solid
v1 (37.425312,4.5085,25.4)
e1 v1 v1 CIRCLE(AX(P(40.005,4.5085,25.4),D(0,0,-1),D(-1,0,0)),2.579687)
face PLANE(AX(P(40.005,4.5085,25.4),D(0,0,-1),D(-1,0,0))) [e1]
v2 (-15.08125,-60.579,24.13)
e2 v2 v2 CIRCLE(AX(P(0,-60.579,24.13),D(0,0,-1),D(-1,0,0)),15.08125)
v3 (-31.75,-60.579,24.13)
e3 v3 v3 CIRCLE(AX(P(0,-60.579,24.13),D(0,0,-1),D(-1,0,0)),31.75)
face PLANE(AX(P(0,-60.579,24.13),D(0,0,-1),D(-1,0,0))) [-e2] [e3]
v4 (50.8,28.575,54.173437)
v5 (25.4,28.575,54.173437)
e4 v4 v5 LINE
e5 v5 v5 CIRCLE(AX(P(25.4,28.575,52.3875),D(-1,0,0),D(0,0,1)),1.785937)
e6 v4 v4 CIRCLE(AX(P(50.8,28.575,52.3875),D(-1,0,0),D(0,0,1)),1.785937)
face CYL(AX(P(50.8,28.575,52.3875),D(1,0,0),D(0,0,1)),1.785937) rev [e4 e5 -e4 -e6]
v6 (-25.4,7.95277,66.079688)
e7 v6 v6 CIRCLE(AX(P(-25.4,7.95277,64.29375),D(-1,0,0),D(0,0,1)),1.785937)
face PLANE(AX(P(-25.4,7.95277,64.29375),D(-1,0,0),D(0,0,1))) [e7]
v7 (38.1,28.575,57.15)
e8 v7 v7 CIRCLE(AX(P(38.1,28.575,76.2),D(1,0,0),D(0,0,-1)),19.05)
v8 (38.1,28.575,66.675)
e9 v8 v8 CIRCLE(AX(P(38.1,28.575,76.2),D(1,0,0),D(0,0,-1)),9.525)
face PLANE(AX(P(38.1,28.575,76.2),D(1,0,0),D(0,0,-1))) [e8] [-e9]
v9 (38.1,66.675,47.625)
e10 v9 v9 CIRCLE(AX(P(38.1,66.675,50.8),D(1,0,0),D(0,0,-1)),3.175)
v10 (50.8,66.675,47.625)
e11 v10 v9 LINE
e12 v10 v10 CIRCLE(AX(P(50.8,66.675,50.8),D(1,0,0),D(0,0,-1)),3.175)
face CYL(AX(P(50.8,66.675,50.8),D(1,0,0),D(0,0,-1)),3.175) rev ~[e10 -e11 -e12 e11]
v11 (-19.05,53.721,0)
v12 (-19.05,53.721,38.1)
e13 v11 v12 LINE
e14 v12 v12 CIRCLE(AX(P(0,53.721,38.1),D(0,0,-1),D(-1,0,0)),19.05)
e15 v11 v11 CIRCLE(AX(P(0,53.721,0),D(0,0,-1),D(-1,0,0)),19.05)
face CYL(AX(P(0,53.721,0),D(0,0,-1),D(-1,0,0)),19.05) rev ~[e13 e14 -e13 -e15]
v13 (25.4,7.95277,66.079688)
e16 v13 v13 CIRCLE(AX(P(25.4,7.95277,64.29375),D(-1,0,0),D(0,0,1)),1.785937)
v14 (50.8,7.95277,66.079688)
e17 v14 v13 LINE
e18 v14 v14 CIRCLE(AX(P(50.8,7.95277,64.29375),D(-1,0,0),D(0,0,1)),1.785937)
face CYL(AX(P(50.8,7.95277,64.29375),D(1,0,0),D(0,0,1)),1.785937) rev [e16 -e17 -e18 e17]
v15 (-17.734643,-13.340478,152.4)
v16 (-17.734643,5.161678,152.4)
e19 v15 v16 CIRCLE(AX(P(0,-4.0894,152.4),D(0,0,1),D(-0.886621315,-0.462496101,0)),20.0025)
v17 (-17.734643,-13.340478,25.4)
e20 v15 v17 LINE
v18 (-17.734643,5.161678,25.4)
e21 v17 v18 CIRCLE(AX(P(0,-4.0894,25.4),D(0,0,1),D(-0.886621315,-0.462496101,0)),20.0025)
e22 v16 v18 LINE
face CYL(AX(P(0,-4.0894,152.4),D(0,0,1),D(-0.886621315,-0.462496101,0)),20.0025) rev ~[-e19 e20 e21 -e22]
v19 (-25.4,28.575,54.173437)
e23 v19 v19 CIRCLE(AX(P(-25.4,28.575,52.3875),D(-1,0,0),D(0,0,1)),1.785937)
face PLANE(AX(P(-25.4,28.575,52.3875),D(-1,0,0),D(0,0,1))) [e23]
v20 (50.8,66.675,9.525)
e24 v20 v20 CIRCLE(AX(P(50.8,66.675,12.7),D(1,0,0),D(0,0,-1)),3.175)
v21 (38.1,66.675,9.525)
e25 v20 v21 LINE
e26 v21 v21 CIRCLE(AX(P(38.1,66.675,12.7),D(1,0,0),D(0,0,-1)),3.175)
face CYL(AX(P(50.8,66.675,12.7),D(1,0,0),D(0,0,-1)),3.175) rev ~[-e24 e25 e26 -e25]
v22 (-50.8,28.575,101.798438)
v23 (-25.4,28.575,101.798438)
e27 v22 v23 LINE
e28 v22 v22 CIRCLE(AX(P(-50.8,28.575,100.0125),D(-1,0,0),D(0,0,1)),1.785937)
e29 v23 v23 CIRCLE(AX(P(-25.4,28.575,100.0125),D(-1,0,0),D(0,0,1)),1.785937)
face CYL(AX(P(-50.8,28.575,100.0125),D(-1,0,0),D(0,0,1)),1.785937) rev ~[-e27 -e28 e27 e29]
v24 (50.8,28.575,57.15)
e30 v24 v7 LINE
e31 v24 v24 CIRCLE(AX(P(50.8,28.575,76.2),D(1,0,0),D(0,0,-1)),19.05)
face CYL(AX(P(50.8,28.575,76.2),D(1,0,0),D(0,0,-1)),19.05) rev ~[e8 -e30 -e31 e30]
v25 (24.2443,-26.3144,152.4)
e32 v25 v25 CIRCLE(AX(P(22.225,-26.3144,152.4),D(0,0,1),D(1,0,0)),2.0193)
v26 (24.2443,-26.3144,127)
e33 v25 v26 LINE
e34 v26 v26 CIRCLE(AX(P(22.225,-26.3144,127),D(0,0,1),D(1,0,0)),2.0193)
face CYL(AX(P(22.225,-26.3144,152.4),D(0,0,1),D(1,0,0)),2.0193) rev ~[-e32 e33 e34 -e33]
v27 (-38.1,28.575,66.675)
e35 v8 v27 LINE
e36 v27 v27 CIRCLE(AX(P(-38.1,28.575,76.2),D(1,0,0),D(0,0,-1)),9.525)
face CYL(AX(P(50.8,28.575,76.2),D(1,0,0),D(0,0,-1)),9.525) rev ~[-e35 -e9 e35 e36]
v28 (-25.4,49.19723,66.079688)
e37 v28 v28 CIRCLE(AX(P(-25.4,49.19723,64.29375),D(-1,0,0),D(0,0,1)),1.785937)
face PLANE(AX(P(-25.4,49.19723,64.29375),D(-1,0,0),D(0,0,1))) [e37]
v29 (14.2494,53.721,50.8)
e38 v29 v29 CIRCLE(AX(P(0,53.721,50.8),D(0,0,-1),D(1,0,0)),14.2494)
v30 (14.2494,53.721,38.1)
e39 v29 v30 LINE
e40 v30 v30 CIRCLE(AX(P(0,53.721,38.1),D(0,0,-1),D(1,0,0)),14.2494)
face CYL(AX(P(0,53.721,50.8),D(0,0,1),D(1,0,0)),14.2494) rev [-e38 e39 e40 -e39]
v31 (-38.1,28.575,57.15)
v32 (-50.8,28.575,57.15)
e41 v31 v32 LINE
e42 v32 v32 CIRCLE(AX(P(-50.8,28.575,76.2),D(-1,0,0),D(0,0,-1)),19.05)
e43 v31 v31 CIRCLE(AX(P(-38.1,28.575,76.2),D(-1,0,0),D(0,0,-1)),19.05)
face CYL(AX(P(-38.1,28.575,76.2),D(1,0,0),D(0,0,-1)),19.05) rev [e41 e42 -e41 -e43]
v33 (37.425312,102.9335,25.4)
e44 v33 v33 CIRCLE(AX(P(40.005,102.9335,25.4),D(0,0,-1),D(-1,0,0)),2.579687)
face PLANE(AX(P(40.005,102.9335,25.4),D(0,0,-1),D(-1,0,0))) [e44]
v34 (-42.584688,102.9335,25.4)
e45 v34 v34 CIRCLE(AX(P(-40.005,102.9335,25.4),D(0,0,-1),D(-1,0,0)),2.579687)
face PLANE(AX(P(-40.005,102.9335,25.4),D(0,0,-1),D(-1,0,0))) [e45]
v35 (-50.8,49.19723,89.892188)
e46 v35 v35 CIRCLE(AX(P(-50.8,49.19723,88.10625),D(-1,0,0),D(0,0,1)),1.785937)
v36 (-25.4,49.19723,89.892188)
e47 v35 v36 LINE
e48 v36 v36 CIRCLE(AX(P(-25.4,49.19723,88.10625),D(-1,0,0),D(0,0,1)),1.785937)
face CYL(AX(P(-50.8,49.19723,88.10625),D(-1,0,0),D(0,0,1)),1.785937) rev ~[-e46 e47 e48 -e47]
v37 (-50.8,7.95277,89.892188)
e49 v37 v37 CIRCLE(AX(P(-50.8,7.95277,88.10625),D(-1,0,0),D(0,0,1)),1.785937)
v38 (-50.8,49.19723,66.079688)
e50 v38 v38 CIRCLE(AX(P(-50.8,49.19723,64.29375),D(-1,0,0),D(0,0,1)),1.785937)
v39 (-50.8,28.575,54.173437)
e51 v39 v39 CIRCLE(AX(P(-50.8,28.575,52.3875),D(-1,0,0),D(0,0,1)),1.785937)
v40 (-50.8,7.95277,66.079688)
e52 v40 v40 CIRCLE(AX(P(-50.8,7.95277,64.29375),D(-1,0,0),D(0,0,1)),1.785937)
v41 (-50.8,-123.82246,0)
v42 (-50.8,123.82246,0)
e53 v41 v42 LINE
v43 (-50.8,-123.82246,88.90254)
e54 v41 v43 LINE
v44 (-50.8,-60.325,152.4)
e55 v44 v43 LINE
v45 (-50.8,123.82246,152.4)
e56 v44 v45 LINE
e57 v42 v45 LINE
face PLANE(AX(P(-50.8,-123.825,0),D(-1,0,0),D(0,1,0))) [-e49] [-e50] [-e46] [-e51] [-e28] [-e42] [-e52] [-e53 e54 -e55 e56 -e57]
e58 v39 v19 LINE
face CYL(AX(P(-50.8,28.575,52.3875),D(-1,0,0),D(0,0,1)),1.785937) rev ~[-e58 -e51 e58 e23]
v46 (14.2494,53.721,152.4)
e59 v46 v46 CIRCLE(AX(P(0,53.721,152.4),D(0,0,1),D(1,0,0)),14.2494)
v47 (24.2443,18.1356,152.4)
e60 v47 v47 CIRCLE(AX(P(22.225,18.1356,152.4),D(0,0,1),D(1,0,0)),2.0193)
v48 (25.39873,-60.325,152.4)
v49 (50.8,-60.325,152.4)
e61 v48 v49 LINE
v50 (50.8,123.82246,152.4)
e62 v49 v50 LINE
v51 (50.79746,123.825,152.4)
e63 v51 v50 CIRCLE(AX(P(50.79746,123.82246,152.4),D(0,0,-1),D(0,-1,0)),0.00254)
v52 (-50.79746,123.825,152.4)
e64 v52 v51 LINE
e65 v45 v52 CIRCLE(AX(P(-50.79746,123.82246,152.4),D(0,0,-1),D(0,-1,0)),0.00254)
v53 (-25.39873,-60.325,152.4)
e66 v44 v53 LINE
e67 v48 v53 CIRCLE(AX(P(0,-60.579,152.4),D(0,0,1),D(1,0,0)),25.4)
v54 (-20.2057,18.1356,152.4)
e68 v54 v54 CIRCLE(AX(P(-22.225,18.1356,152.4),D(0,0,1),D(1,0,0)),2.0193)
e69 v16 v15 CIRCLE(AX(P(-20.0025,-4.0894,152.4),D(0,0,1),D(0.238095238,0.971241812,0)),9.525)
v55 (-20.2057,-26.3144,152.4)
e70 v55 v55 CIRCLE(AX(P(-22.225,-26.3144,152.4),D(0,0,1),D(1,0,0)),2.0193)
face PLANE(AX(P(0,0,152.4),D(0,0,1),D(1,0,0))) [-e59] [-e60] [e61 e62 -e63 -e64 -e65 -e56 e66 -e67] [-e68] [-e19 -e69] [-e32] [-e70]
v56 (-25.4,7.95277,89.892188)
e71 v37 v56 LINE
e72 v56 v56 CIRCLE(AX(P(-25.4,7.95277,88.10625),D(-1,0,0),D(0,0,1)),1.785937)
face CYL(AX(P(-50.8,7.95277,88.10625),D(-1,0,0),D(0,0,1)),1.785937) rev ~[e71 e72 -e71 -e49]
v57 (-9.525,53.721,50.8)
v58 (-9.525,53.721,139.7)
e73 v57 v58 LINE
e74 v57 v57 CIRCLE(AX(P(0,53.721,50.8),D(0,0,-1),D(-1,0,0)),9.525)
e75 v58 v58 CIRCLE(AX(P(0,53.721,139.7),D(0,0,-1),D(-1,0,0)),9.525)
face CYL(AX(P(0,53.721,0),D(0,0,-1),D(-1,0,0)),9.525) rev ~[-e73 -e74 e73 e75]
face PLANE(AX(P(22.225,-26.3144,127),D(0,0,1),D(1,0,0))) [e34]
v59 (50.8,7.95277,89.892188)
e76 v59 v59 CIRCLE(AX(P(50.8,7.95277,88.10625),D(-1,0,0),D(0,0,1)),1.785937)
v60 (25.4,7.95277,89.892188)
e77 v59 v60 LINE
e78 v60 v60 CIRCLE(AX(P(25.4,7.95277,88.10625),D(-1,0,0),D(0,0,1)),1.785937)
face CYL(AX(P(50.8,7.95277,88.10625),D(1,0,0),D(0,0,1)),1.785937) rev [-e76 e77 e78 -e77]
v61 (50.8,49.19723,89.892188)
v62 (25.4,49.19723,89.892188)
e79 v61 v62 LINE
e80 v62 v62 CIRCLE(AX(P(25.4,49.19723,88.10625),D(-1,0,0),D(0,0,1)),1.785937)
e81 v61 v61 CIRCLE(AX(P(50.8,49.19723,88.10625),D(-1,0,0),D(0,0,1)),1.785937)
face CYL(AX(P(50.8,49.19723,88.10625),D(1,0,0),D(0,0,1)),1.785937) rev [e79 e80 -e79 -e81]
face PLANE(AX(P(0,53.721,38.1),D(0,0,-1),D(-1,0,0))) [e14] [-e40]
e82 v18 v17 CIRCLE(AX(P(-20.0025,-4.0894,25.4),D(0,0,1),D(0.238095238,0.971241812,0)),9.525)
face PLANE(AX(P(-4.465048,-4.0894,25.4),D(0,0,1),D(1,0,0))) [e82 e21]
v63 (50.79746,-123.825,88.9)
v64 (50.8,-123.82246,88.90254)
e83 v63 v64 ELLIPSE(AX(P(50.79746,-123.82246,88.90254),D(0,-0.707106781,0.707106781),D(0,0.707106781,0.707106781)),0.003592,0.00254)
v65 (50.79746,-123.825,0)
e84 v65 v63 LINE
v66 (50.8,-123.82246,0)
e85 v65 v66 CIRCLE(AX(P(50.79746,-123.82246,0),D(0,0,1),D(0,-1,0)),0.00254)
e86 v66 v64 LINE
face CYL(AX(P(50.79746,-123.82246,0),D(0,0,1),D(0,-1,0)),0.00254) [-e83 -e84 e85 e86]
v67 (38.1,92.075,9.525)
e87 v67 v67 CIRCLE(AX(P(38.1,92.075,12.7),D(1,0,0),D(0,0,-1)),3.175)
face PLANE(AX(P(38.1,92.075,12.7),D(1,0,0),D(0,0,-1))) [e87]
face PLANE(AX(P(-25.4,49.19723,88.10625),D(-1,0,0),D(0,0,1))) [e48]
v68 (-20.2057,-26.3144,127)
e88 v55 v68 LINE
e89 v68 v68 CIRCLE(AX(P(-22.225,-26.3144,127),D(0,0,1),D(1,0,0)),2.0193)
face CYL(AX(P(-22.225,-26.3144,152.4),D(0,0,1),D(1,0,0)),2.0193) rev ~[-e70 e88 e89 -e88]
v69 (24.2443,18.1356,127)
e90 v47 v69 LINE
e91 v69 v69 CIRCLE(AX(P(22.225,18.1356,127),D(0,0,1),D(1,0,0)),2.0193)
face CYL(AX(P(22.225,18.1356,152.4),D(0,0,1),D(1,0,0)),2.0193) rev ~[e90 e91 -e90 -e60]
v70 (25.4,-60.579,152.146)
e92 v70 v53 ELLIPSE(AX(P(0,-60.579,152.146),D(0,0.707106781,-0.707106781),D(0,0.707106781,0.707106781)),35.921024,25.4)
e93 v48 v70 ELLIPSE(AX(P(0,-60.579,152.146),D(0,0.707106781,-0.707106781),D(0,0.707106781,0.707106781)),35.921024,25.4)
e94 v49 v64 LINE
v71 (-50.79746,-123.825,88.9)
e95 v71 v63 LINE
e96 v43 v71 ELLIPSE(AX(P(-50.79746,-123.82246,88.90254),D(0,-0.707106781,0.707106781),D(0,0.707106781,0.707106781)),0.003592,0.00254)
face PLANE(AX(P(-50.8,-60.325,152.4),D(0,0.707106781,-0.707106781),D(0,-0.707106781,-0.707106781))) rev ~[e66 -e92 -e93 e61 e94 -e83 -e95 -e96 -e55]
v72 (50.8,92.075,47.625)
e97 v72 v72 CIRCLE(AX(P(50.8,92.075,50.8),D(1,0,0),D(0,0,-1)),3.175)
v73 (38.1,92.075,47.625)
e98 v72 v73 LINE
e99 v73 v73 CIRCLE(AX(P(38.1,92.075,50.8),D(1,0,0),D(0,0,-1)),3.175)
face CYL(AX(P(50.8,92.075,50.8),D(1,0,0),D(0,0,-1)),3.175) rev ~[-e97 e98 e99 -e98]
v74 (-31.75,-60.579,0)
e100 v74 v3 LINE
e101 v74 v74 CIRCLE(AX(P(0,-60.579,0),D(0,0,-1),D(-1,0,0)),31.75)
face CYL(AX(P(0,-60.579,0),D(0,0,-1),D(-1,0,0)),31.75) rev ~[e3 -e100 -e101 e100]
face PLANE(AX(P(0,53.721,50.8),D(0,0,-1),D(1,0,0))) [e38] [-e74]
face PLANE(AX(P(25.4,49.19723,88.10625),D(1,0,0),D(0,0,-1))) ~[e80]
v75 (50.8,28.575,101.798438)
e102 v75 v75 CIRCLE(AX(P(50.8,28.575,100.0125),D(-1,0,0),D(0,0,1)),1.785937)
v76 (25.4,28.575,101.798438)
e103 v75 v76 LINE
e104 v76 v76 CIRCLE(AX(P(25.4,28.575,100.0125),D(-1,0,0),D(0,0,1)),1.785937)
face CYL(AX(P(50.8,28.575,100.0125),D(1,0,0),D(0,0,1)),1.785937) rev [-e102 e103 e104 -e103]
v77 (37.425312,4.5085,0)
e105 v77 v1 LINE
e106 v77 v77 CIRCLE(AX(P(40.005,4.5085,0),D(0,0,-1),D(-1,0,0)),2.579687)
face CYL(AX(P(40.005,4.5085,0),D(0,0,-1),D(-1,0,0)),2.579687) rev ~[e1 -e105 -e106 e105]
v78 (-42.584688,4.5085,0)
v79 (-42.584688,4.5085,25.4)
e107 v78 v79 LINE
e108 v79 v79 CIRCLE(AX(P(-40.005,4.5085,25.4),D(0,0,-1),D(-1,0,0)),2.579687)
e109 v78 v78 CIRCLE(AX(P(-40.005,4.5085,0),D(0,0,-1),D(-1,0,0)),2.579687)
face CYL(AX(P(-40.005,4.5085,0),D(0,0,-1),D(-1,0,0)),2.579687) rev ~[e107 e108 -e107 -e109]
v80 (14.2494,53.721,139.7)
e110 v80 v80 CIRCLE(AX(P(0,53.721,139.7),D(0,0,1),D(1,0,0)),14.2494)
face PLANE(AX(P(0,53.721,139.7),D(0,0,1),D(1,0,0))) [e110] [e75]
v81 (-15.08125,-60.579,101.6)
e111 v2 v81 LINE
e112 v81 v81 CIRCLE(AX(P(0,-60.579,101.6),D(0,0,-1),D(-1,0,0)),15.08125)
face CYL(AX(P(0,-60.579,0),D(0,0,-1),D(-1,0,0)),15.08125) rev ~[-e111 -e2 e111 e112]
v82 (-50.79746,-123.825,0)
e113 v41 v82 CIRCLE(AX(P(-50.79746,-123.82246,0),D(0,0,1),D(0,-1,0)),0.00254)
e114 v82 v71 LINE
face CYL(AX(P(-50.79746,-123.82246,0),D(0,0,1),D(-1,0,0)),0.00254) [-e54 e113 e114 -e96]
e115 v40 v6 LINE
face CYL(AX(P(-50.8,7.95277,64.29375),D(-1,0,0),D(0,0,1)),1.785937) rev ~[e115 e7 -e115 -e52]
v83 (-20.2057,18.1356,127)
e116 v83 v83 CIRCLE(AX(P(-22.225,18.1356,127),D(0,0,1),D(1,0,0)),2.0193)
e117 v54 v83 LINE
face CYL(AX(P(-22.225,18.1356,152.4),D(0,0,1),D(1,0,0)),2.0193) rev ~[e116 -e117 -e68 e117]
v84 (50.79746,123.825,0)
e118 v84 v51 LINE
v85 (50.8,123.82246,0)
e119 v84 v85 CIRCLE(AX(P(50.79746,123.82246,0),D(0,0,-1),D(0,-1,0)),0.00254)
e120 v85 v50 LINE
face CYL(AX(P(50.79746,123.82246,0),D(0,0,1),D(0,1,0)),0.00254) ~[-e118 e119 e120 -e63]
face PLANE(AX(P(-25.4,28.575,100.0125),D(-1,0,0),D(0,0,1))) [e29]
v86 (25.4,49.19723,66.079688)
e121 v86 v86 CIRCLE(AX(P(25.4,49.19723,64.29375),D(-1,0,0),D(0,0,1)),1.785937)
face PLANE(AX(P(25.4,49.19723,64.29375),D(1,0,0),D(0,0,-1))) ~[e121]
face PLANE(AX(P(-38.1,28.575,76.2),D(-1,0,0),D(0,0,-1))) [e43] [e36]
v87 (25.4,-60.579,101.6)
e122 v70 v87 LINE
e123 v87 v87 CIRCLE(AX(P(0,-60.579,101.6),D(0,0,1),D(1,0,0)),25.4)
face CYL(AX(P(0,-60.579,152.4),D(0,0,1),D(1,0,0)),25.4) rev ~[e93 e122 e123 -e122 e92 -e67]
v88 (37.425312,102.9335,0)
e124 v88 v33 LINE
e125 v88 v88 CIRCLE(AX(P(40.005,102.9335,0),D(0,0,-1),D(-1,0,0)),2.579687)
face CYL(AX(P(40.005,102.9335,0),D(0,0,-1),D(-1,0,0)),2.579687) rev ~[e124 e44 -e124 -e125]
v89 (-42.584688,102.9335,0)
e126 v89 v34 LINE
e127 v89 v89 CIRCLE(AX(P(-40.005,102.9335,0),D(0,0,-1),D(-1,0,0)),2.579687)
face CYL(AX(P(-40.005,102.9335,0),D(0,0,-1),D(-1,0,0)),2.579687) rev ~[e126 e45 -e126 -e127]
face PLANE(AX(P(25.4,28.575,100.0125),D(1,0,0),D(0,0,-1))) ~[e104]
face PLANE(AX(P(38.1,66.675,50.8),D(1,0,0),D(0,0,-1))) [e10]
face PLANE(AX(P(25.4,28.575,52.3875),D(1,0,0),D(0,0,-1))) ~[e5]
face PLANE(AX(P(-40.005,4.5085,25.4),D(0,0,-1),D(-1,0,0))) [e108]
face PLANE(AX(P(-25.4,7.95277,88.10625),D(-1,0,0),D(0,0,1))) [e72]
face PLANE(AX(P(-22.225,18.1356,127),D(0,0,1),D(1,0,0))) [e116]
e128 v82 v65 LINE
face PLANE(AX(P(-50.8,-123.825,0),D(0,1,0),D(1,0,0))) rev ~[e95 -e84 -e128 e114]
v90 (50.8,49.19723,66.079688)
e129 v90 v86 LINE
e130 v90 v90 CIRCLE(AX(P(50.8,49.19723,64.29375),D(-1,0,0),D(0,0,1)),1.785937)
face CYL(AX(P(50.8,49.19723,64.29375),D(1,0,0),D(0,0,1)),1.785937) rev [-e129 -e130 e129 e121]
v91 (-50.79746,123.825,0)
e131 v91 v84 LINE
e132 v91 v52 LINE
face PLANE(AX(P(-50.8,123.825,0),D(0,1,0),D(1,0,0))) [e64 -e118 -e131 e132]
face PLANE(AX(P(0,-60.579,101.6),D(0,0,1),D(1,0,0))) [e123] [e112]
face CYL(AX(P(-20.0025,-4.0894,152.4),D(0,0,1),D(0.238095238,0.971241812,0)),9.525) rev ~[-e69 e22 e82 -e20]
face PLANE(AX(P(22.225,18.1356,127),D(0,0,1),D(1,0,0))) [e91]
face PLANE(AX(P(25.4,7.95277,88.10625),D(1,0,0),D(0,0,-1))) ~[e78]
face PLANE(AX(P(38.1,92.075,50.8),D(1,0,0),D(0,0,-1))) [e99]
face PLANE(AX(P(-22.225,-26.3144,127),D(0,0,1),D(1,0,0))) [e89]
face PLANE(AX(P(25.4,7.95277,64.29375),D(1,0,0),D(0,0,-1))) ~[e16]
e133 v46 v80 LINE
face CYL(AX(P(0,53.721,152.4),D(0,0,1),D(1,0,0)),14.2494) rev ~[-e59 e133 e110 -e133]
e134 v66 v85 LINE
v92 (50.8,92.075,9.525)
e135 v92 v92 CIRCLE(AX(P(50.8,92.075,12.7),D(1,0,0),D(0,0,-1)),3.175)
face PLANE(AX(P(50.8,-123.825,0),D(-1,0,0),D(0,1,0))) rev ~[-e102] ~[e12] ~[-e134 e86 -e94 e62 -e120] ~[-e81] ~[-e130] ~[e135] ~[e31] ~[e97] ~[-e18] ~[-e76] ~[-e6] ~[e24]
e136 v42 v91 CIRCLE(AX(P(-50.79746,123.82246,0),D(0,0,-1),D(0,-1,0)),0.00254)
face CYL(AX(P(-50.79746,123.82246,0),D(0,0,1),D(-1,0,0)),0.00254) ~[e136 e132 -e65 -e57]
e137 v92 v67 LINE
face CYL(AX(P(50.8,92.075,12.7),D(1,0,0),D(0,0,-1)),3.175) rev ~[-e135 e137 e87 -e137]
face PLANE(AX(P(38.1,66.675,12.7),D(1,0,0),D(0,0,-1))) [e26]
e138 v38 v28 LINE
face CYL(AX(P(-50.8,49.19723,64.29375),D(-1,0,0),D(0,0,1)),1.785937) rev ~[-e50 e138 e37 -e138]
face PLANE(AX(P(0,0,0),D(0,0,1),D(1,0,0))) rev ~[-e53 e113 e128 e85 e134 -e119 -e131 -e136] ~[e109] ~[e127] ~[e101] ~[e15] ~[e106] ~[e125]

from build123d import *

# Parameters (mm, degrees)
SKETCH1_W           = 101.6
SKETCH1_H           = 247.65
BOSS_EXTRUDE1_DEPTH = 152.4
SKETCH2_R           = 15.08125
SKETCH2_R_2         = 9.525
CUT_EXTRUDE1_DEPTH  = 203.827588422
CUT_EXTRUDE2_DEPTH  = 222.090367554
SKETCH33_R          = 2.5796875
CUT_EXTRUDE33_DEPTH = 25.4
SKETCH53_R          = 31.75
CUT_EXTRUDE37_DEPTH = 24.13
SKETCH54_R          = 19.05
CUT_EXTRUDE38_DEPTH = 38.1
SKETCH4_R           = 19.05
CUT_EXTRUDE40_DEPTH = 12.7
SKETCH55_R          = 1.7859375
CUT_EXTRUDE41_DEPTH = 25.4
SKETCH56_R          = 14.2494
CUT_EXTRUDE42_DEPTH = 12.7
CUT_EXTRUDE43_START = -12.7
SKETCH57_R          = 14.2494
CUT_EXTRUDE43_DEPTH = 12.7
SKETCH58_R          = 25.4
CUT_EXTRUDE44_DEPTH = 50.8
CUT_EXTRUDE45_DEPTH = 127
FILLET2_R           = 0.00254
CUT_EXTRUDE46_START = -12.7
SKETCH60_R          = 19.05
CUT_EXTRUDE46_DEPTH = 12.7
SKETCH61_R          = 9.525
CUT_EXTRUDE47_DEPTH = 222.090367554
SKETCH62_R          = 2.0193
CUT_EXTRUDE48_DEPTH = 25.4
SKETCH63_R          = 3.175
CUT_EXTRUDE49_DEPTH = 12.7


with BuildPart() as part:
    # Sketch1 → Boss-Extrude1 (new body)
    with BuildSketch(Plane.XY):
        Rectangle(SKETCH1_W, SKETCH1_H)
    extrude(amount=BOSS_EXTRUDE1_DEPTH)

    # Sketch2 → Cut-Extrude1 (cut, through all)
    with BuildSketch(Plane(origin=(0, 0, 0), x_dir=(-1, 0, 0), z_dir=(0, 0, -1))):
        with Locations((0, -60.579)):
            Circle(SKETCH2_R)
        with Locations((0, 53.721)):
            Circle(SKETCH2_R_2)
    extrude(amount=-CUT_EXTRUDE1_DEPTH, mode=Mode.SUBTRACT)

    # Sketch3 → Cut-Extrude2 (cut, through all)
    with BuildSketch(Plane.ZY.offset(50.8)):
        Polygon((152.4, -60.325), (88.9, -123.825), (152.4, -123.825), align=None)
    extrude(amount=-CUT_EXTRUDE2_DEPTH, mode=Mode.SUBTRACT)

    # Sketch33 → Cut-Extrude33 (cut)
    with BuildSketch(Plane(origin=(0, 0, 0), x_dir=(-1, 0, 0), z_dir=(0, 0, -1))):
        with Locations((-40.005, 102.9335)):
            Circle(SKETCH33_R)
        with Locations((40.005, 102.9335)):
            Circle(SKETCH33_R)
        with Locations((40.005, 4.5085)):
            Circle(SKETCH33_R)
        with Locations((-40.005, 4.5085)):
            Circle(SKETCH33_R)
    extrude(amount=-CUT_EXTRUDE33_DEPTH, mode=Mode.SUBTRACT)

    # Sketch53 → Cut-Extrude37 (cut)
    with BuildSketch(Plane(origin=(0, 0, 0), x_dir=(-1, 0, 0), z_dir=(0, 0, -1))):
        with Locations((0, -60.579)):
            Circle(SKETCH53_R)
    extrude(amount=-CUT_EXTRUDE37_DEPTH, mode=Mode.SUBTRACT)

    # Sketch54 → Cut-Extrude38 (cut)
    with BuildSketch(Plane(origin=(0, 0, 0), x_dir=(-1, 0, 0), z_dir=(0, 0, -1))):
        with Locations((0, 53.721)):
            Circle(SKETCH54_R)
    extrude(amount=-CUT_EXTRUDE38_DEPTH, mode=Mode.SUBTRACT)

    # Sketch4 → Cut-Extrude40 (cut)
    with BuildSketch(Plane(origin=(50.8, 0, 0), x_dir=(0, 0, -1), z_dir=(1, 0, 0))):
        with Locations((-76.2, 28.575)):
            Circle(SKETCH4_R)
    extrude(amount=-CUT_EXTRUDE40_DEPTH, mode=Mode.SUBTRACT)

    # Sketch55 → Cut-Extrude41 (cut)
    with BuildSketch(Plane.ZY.offset(50.8)):
        with Locations((52.3875, 28.575)):
            Circle(SKETCH55_R)
        with Locations((64.29375, 49.197229928)):
            Circle(SKETCH55_R)
        with Locations((88.10625, 49.197229928)):
            Circle(SKETCH55_R)
        with Locations((100.0125, 28.575)):
            Circle(SKETCH55_R)
        with Locations((88.10625, 7.952770072)):
            Circle(SKETCH55_R)
        with Locations((64.29375, 7.952770072)):
            Circle(SKETCH55_R)
    cut_extrude41 = extrude(amount=-CUT_EXTRUDE41_DEPTH, mode=Mode.SUBTRACT)

    # Sketch56 → Cut-Extrude42 (cut)
    with BuildSketch(Plane.XY.offset(152.4)):
        with Locations((0, 53.721)):
            Circle(SKETCH56_R)
    extrude(amount=-CUT_EXTRUDE42_DEPTH, mode=Mode.SUBTRACT)

    # Sketch57 → Cut-Extrude43 (cut)
    with BuildSketch(Plane(origin=(0, 0, 38.1), x_dir=(-1, 0, 0), z_dir=(0, 0, -1)).offset(CUT_EXTRUDE43_START)):
        with Locations(Location((0, 53.721, 0), (0, 0, 180))):
            Circle(SKETCH57_R)
    extrude(amount=CUT_EXTRUDE43_DEPTH, mode=Mode.SUBTRACT)

    # Sketch58 → Cut-Extrude44 (cut)
    with BuildSketch(Plane.XY.offset(152.4)):
        with Locations((0, -60.579)):
            Circle(SKETCH58_R)
    extrude(amount=-CUT_EXTRUDE44_DEPTH, mode=Mode.SUBTRACT)

    # Sketch59 → Cut-Extrude45 (cut)
    with BuildSketch(Plane.XY.offset(152.4)):
        with BuildLine():
            ThreePointArc((-17.734642857, -13.34047826), (20.0025, -4.0894), (-17.734642857, 5.16167826))
            ThreePointArc((-17.734642857, 5.16167826), (-29.5275, -4.0894), (-17.734642857, -13.34047826))
        make_face()
    extrude(amount=-CUT_EXTRUDE45_DEPTH, mode=Mode.SUBTRACT)

    # Fillet2
    fillet2_edges = [part.edges().sort_by_distance(p)[0] for p in [
        (50.8, -123.825, 44.45),
        (-50.8, -123.825, 44.45),
        (-50.8, 123.825, 76.2),
        (50.8, 123.825, 76.2),
    ]]
    fillet(fillet2_edges, radius=FILLET2_R)

    # Sketch60 → Cut-Extrude46 (cut)
    with BuildSketch(Plane.ZY.offset(50.8).offset(CUT_EXTRUDE46_START)):
        with Locations(Location((76.2, 28.575, 0), (0, 0, 180))):
            Circle(SKETCH60_R)
    extrude(amount=CUT_EXTRUDE46_DEPTH, mode=Mode.SUBTRACT)

    # Sketch61 → Cut-Extrude47 (cut, through all)
    with BuildSketch(Plane(origin=(50.8, 0, 0), x_dir=(0, 0, -1), z_dir=(1, 0, 0))):
        with Locations((-76.2, 28.575)):
            Circle(SKETCH61_R)
    extrude(amount=-CUT_EXTRUDE47_DEPTH, mode=Mode.SUBTRACT)

    # Sketch62 → Cut-Extrude48 (cut)
    with BuildSketch(Plane.XY.offset(152.4)):
        with Locations((-22.225, 18.1356)):
            Circle(SKETCH62_R)
        with Locations((22.225, 18.1356)):
            Circle(SKETCH62_R)
        with Locations((22.225, -26.3144)):
            Circle(SKETCH62_R)
        with Locations((-22.225, -26.3144)):
            Circle(SKETCH62_R)
    extrude(amount=-CUT_EXTRUDE48_DEPTH, mode=Mode.SUBTRACT)

    # Sketch63 → Cut-Extrude49 (cut)
    with BuildSketch(Plane(origin=(50.8, 0, 0), x_dir=(0, 0, -1), z_dir=(1, 0, 0))):
        with Locations((-50.8, 66.675)):
            Circle(SKETCH63_R)
        with Locations((-12.7, 66.675)):
            Circle(SKETCH63_R)
        with Locations((-12.7, 92.075)):
            Circle(SKETCH63_R)
        with Locations((-50.8, 92.075)):
            Circle(SKETCH63_R)
    extrude(amount=-CUT_EXTRUDE49_DEPTH, mode=Mode.SUBTRACT)

    # Mirror2: Cut-Extrude41 across plane
    add(cut_extrude41.mirror(Plane(origin=(0, 0, 0), x_dir=(0, 0, 1), z_dir=(1, 0, 0))), mode=Mode.SUBTRACT)


solid = part.part
